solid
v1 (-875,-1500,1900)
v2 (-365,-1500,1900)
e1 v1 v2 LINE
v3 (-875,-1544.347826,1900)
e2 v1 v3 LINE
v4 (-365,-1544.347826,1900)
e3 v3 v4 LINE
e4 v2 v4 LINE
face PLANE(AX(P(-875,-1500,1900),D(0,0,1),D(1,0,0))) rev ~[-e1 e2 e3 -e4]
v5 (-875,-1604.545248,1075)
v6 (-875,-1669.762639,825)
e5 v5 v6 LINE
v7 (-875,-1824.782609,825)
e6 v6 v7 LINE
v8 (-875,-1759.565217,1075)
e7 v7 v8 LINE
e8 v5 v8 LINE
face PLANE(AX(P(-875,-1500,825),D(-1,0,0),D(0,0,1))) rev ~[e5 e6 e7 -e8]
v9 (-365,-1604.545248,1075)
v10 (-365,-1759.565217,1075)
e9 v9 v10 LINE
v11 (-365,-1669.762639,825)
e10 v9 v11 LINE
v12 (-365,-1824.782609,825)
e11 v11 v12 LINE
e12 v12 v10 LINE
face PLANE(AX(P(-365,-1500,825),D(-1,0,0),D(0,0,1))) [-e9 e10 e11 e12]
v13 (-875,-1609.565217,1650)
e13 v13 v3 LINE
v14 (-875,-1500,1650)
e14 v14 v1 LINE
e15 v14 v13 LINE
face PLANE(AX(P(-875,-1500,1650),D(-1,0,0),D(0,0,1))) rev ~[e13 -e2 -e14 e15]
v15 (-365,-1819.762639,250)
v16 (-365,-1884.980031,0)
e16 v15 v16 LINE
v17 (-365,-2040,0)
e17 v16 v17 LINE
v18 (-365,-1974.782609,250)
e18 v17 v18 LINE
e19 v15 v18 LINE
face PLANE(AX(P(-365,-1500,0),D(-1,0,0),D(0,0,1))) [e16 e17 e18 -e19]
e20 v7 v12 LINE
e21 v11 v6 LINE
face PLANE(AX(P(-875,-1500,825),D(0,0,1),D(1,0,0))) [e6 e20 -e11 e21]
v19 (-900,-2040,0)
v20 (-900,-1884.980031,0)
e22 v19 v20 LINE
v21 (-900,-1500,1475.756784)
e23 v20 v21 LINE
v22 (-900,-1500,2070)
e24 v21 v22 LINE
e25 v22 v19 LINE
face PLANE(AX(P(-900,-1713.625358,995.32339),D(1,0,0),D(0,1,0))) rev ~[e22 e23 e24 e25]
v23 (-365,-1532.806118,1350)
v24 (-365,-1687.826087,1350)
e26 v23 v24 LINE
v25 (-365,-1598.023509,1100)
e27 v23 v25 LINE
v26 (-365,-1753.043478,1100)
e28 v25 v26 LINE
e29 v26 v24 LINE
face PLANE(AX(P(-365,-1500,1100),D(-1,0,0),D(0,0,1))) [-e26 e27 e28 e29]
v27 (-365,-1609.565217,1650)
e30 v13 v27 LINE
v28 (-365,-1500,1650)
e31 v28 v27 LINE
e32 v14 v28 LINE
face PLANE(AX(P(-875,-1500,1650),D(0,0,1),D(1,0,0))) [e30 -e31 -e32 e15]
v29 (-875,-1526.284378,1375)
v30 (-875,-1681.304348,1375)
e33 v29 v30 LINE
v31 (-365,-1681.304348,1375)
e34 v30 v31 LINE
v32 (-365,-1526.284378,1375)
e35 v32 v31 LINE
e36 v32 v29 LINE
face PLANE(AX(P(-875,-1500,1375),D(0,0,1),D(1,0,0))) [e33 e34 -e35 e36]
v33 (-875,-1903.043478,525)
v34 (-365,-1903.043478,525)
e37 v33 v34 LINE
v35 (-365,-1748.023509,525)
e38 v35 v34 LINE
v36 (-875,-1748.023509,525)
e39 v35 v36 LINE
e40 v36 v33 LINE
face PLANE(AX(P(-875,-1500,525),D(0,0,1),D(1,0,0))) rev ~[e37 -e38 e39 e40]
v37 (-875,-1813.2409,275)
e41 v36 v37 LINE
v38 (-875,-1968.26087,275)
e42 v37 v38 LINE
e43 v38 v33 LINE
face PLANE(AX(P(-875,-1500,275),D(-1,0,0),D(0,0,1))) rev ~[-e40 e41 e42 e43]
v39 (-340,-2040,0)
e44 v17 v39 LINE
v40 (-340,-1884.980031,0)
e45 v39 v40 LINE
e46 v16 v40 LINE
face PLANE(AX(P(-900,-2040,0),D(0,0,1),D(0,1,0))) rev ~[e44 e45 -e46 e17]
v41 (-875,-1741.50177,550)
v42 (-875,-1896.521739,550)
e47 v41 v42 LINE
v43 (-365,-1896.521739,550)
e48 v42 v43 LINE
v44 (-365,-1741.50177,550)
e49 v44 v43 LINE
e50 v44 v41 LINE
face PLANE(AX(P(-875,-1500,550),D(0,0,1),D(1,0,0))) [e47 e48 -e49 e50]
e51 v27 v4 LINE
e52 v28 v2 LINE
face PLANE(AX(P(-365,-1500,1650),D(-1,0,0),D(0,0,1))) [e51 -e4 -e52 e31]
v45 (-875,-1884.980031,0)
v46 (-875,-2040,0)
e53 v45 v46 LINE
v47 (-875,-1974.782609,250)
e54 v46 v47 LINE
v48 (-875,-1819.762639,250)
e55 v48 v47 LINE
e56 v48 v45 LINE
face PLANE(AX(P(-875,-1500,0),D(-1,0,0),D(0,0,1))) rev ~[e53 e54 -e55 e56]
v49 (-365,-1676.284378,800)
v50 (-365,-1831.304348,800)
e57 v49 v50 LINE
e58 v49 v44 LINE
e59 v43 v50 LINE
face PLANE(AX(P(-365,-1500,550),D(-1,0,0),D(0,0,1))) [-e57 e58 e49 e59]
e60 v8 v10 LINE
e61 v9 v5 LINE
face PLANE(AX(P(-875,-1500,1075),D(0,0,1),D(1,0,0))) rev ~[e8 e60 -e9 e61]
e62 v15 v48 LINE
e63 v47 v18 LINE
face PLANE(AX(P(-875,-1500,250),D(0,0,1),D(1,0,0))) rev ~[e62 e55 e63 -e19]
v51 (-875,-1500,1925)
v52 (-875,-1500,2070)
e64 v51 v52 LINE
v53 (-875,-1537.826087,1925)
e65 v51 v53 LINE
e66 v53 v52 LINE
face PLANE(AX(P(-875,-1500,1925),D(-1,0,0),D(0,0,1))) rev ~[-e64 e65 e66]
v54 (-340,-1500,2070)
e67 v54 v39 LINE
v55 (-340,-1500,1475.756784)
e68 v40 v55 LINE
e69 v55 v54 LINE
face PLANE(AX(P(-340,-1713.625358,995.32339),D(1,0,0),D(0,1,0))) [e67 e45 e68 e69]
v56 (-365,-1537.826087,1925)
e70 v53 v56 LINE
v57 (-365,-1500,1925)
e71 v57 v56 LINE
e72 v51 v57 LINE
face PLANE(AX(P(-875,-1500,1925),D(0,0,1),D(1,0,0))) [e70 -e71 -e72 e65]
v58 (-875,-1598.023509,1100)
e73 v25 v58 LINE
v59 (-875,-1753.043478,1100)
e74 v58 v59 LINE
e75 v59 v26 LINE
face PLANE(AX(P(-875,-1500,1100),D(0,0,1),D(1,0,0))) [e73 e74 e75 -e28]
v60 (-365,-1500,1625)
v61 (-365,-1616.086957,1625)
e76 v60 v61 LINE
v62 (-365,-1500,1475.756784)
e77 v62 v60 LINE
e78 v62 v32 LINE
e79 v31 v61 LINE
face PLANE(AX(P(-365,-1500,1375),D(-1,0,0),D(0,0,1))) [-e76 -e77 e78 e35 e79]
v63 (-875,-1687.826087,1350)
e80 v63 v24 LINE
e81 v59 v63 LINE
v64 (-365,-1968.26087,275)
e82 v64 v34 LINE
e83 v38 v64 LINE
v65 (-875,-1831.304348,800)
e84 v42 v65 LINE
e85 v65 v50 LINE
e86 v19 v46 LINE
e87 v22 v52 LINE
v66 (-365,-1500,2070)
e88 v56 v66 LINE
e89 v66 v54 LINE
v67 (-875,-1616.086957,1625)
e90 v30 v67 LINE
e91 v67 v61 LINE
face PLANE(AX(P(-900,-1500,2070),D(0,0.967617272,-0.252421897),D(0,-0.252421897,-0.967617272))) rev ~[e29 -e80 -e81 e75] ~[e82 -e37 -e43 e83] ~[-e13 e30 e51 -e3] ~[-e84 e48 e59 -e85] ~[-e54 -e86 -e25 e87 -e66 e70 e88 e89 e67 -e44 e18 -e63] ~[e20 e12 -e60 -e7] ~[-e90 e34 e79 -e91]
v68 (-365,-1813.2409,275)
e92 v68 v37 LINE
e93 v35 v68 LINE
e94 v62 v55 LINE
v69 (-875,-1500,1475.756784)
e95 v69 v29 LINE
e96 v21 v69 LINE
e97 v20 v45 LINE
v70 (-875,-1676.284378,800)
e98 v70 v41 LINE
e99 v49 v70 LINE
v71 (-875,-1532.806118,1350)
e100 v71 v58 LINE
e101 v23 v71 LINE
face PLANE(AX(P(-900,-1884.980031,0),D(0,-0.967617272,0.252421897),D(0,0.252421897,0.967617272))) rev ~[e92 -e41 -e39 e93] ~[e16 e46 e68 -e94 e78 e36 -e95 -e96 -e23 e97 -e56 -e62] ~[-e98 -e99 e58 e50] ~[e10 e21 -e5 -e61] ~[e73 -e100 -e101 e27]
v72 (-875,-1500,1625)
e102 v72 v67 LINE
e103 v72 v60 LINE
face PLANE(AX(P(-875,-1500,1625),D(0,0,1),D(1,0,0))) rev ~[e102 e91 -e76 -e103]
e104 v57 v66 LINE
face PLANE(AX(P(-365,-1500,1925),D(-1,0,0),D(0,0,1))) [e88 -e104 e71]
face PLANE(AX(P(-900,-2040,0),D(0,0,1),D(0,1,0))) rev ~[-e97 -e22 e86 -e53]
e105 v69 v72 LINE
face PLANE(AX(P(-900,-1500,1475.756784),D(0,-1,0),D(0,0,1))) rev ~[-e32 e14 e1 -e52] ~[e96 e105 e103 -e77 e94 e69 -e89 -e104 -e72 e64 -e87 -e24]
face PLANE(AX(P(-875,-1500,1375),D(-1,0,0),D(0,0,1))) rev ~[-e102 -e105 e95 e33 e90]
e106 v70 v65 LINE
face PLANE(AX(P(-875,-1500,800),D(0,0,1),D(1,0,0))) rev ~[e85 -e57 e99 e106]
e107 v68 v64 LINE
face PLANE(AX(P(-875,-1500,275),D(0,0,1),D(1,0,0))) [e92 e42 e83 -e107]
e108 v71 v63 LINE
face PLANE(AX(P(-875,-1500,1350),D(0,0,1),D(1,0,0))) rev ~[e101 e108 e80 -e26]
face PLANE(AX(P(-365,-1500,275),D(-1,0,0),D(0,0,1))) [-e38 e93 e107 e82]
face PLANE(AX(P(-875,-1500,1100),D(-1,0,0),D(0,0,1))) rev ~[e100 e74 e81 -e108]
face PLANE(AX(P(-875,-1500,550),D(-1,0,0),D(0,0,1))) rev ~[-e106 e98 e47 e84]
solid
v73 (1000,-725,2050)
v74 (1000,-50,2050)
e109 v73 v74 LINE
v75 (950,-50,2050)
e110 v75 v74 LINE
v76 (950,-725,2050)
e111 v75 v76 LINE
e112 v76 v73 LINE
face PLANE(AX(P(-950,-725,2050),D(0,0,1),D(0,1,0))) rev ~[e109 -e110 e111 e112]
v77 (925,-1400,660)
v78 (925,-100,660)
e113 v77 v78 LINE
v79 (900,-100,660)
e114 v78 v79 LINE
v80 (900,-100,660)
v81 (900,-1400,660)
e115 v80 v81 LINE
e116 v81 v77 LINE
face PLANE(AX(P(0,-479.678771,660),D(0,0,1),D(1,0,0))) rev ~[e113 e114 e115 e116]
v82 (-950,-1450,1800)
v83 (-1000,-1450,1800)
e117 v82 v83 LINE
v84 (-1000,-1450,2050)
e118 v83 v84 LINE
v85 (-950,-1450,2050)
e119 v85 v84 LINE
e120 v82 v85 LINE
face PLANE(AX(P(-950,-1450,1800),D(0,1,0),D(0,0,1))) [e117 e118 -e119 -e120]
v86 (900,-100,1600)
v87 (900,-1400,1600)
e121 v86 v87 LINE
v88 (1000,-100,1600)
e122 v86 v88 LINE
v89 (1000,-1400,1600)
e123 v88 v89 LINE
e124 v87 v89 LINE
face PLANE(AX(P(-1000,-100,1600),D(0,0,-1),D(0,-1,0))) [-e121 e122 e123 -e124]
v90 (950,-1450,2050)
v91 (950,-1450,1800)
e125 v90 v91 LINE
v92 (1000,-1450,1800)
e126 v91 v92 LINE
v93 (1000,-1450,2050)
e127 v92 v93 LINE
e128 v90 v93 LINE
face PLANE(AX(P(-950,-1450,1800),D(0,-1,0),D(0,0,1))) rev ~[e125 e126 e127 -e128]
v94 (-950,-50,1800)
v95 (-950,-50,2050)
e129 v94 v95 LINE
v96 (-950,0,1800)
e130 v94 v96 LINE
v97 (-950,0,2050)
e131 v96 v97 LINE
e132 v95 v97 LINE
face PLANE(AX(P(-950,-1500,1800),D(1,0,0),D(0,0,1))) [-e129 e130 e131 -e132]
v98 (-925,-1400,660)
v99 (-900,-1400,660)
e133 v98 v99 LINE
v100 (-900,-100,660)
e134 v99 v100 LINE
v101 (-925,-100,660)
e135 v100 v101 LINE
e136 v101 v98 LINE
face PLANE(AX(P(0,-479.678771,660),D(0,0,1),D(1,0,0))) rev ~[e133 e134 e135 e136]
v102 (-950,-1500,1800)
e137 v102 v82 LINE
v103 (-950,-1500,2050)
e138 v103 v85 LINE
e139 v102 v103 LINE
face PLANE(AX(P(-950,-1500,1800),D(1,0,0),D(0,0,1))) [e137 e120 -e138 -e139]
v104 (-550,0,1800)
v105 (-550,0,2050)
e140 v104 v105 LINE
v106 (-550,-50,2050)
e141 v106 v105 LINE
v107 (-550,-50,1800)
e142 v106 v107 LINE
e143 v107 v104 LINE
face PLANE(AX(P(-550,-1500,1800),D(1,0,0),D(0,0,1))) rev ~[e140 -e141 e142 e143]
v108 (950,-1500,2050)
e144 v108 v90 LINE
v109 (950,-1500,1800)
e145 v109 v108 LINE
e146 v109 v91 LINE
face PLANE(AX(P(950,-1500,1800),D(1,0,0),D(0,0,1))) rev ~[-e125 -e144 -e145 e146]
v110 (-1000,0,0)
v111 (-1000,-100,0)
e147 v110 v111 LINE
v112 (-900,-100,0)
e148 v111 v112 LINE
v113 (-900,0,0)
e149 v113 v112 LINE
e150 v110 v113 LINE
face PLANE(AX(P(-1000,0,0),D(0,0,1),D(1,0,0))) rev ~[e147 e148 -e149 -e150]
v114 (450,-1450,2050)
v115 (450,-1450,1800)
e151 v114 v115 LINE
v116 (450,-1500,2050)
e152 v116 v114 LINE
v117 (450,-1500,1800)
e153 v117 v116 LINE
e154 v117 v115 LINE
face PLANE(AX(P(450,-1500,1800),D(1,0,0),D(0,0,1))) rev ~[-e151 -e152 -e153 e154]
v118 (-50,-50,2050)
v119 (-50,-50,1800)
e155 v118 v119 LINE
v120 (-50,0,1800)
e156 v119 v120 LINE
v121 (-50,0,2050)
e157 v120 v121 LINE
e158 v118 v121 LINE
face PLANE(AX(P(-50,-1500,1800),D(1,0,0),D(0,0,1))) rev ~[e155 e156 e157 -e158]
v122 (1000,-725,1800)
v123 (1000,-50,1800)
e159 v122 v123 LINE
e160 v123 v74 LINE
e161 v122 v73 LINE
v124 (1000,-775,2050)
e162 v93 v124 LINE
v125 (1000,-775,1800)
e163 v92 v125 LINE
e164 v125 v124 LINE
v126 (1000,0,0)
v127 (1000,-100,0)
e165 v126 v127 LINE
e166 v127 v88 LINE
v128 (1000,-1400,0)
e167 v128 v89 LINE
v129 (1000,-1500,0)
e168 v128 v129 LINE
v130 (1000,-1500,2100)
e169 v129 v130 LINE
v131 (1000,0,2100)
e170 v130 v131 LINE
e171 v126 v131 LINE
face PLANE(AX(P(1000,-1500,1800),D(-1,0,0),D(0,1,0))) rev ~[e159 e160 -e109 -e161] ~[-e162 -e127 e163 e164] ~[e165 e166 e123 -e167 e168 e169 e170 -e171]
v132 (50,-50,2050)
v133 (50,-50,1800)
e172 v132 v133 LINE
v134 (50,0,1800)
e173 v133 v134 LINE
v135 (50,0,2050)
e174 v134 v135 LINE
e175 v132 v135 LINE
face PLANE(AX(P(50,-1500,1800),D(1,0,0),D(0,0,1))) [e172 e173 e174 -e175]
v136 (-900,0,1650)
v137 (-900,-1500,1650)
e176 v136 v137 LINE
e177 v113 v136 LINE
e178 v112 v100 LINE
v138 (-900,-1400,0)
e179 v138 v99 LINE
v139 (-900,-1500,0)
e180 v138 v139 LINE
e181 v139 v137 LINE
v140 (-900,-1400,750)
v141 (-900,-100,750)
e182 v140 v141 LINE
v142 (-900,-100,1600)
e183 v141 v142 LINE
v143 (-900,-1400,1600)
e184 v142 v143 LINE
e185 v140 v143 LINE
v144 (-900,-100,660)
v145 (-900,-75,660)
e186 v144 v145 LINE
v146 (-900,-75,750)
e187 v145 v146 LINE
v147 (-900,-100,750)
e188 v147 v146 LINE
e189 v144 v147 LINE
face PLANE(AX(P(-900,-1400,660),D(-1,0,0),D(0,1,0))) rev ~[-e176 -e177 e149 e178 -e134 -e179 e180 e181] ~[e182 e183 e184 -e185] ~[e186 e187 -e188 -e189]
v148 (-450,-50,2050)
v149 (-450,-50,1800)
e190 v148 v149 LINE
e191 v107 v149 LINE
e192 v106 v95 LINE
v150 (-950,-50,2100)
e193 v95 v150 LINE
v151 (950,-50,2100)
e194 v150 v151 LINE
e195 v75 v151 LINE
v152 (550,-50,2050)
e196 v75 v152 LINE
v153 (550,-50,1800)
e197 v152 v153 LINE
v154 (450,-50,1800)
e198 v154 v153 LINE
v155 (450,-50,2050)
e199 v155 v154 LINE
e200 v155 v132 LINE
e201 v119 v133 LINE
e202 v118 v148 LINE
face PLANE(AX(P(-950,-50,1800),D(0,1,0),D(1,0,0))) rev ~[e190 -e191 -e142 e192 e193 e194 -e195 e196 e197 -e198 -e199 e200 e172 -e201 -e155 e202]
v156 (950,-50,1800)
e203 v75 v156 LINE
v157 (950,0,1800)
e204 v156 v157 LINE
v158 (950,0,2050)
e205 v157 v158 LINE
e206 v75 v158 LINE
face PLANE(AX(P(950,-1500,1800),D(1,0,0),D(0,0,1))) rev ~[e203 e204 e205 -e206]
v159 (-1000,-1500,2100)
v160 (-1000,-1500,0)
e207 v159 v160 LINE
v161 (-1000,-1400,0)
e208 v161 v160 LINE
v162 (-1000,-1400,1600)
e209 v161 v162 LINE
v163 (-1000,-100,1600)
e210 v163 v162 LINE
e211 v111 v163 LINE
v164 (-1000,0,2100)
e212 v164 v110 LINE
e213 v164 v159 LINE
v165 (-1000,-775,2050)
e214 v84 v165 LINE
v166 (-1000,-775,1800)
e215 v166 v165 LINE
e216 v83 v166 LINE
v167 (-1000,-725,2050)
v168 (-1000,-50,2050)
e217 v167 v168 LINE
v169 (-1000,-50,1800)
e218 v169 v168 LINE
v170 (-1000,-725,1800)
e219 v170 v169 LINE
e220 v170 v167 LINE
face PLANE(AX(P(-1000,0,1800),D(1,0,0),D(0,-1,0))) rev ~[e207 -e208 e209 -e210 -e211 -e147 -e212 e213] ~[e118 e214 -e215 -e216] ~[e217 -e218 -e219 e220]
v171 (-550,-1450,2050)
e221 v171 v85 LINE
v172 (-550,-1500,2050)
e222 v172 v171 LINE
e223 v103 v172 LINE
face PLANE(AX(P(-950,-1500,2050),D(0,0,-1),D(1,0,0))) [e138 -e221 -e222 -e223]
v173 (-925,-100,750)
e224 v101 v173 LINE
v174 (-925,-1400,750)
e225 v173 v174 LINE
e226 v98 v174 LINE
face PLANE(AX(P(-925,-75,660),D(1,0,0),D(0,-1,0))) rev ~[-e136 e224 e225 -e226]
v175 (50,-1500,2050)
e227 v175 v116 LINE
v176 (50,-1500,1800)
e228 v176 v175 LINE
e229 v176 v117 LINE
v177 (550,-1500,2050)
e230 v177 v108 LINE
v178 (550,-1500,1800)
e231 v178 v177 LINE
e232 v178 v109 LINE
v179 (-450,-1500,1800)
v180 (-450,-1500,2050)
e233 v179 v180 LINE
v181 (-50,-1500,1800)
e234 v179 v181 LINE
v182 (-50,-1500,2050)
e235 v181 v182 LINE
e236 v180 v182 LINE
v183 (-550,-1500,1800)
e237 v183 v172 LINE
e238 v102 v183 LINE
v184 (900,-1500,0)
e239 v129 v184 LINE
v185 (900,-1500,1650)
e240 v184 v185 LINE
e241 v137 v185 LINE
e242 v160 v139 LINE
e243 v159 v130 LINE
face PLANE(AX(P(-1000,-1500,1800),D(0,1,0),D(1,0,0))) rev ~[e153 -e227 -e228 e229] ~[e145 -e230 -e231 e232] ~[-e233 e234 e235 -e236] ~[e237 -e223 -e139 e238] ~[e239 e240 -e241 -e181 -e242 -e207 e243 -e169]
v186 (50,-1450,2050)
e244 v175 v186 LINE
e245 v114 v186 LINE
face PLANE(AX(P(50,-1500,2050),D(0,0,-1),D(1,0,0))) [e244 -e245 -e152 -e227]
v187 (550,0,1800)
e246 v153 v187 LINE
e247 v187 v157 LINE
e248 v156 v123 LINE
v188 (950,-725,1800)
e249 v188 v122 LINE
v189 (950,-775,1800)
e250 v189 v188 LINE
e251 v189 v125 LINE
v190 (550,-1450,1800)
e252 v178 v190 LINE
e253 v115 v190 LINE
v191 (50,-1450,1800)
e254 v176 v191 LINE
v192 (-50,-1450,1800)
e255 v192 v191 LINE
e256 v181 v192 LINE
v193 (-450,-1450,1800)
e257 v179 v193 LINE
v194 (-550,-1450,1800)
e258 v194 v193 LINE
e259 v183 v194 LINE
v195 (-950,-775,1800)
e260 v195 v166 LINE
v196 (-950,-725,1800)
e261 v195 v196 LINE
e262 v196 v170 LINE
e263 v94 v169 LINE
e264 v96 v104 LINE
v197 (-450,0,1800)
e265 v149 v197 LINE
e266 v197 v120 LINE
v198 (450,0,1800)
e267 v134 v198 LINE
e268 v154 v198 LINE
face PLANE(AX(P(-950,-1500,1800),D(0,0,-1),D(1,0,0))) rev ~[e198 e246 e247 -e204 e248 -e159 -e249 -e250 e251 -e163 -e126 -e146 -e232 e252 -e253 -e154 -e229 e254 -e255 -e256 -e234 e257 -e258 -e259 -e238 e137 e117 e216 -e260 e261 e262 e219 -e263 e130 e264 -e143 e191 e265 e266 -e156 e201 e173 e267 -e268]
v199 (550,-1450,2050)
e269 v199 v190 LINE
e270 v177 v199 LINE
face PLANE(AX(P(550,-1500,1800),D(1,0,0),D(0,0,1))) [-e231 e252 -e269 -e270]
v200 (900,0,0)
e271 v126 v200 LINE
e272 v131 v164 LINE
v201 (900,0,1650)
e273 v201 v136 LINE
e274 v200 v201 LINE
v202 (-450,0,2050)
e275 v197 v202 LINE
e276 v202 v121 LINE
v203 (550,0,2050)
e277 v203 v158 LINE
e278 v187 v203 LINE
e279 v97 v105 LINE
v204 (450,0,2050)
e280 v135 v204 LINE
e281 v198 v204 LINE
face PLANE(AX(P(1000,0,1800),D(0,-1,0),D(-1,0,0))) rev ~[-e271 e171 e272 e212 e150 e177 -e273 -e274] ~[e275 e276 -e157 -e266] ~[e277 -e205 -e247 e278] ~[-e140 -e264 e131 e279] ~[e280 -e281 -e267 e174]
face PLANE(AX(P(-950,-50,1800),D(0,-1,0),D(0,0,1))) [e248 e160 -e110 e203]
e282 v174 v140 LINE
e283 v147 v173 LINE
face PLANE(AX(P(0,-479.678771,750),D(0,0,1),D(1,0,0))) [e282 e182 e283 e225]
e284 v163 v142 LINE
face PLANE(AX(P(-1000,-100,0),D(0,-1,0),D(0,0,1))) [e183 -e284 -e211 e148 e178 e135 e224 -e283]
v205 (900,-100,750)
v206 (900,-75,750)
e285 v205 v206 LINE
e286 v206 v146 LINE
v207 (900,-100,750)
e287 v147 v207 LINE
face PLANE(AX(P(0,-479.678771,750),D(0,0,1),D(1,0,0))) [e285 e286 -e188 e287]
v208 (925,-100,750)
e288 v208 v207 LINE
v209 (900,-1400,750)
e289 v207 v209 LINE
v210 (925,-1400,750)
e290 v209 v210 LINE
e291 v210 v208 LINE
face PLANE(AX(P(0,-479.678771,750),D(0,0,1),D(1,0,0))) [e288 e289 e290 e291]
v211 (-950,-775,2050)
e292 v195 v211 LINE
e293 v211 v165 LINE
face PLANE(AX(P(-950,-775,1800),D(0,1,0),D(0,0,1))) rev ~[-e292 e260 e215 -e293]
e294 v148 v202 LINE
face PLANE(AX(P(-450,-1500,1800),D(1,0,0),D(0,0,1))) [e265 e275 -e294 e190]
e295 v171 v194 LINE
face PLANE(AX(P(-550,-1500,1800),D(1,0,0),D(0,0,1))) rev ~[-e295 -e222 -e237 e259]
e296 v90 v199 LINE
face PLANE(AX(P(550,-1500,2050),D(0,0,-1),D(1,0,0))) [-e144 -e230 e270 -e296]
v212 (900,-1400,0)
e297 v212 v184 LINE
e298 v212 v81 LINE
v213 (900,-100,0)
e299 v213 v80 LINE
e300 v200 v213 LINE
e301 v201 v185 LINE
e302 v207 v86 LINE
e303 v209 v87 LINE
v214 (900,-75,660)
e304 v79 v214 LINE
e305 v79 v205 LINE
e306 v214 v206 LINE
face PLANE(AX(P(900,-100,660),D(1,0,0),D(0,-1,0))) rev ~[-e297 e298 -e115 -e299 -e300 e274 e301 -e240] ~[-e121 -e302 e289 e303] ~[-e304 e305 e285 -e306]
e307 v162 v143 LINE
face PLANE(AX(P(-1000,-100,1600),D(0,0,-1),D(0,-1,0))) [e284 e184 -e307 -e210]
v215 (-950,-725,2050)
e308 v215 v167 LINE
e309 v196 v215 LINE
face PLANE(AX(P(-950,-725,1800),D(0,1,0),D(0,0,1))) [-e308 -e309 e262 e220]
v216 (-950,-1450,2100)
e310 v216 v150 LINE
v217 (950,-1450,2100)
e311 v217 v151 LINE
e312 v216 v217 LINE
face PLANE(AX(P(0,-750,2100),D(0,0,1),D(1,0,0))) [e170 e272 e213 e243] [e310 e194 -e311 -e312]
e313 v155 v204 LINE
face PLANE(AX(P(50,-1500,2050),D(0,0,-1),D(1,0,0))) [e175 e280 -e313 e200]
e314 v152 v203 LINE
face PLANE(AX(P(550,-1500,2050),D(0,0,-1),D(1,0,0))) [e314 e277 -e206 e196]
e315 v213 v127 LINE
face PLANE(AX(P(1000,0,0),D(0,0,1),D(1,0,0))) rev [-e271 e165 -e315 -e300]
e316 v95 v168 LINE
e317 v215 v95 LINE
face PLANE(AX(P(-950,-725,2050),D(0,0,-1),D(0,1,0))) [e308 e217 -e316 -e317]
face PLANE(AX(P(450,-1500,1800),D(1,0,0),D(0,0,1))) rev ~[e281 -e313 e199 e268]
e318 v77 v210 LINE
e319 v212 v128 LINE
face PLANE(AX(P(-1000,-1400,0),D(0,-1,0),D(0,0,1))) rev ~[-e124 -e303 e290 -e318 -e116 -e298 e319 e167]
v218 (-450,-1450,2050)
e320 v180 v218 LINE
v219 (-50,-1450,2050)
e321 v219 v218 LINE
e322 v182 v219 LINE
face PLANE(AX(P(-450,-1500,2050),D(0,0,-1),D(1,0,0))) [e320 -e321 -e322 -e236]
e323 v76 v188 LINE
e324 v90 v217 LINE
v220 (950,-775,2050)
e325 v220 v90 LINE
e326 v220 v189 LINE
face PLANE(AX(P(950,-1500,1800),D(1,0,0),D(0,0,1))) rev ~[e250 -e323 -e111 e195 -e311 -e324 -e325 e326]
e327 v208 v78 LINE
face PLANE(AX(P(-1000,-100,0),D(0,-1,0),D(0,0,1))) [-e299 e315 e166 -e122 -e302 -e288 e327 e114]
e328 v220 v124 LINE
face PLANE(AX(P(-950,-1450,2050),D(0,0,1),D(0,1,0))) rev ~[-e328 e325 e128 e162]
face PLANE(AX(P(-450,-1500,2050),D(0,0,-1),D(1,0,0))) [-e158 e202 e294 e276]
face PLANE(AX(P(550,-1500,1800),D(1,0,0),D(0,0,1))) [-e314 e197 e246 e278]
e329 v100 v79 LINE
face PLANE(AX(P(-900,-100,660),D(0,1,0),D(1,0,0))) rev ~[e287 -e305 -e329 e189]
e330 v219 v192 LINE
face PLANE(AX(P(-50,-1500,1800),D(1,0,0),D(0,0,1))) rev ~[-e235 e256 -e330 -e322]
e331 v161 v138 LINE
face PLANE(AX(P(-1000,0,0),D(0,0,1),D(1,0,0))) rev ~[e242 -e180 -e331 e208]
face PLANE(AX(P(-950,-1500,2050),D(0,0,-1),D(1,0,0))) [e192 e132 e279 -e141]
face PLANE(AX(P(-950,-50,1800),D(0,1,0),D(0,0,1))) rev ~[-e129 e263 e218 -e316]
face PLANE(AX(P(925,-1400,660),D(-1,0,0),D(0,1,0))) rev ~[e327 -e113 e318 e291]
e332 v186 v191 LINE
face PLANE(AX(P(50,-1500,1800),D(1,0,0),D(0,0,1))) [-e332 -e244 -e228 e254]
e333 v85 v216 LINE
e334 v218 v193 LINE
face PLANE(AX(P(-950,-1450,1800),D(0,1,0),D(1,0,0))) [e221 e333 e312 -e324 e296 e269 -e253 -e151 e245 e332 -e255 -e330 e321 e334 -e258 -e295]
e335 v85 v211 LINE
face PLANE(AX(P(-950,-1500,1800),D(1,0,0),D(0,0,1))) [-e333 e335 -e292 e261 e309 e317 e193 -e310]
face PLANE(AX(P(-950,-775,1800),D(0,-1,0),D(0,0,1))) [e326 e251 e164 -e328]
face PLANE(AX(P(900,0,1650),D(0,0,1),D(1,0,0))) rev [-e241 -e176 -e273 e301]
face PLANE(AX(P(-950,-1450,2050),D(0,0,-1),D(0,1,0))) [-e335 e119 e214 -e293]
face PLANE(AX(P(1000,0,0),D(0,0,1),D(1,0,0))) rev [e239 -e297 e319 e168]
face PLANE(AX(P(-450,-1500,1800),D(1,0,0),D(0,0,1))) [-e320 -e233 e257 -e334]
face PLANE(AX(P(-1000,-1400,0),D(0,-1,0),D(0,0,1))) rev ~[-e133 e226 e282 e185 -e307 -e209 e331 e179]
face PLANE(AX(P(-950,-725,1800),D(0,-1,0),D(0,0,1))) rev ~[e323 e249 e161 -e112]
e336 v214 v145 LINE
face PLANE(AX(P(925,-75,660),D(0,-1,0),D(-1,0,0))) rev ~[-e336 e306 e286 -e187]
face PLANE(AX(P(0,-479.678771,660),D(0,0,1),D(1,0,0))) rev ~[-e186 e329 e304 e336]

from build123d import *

# Parameters (mm, degrees)
F1_DEPTH      = 1500
F3_W          = 1900
F3_H          = 1400
F4_DEPTH      = 300
F5_W          = 400
F5_H          = 250
F6_DEPTH      = 1500.001
F7_W          = 675
F7_H          = 250
F8_DEPTH      = 1950.001
F8_DEPTH_BACK = 50.001
F9_W          = 1300
F9_H          = 1600
F10_DEPTH     = 2000.001
F14_DEPTH     = 560
F15_W         = 510
F15_H         = 250
F16_DEPTH     = 540.001
F18_DEPTH     = 90


with BuildPart() as f1:
    # F0 (on Front) → F1 (new body)
    with BuildSketch(Plane.XZ):
        Polygon((-1000, 1800), (-1000, 0), (-900, 0), (-900, 1650), (0, 1650), (0, 1800), align=None)
    extrude(amount=F1_DEPTH)

    # F2: F1 across plane


with BuildPart() as f1_1:
    add(f1.part)
    add(f1.part.mirror(Plane.YZ))

    # F3 (on face) → F4 (join)
    with BuildSketch(Plane.XY.offset(1800)):
        Polygon((-1000, -1500), (1000, -1500), (1000, -1450), (1000, 0), (-1000, 0), (-1000, -50), align=None)
        with Locations((0, -750)):
            Rectangle(F3_W, F3_H, mode=Mode.SUBTRACT)
    extrude(amount=F4_DEPTH)

    # F5 (on face) → F6 (cut, through all)
    with BuildSketch(Plane.XZ.offset(1500)):
        with Locations((-750, 1925)):
            Rectangle(F5_W, F5_H)
        with Locations((-250, 1925)):
            Rectangle(F5_W, F5_H)
        with Locations((250, 1925)):
            Rectangle(F5_W, F5_H)
        with Locations((750, 1925)):
            Rectangle(F5_W, F5_H)
        with Locations((1250, 1925)):
            Rectangle(F5_W, F5_H)
    extrude(amount=-F6_DEPTH, mode=Mode.SUBTRACT)

    # F7 (on face) → F8 (cut, two sides)
    with BuildSketch(Plane.YZ.offset(-950)) as f8_sk:
        with Locations((-1112.5, 1925)):
            Rectangle(F7_W, F7_H)
        with Locations((-387.5, 1925)):
            Rectangle(F7_W, F7_H)
    extrude(amount=F8_DEPTH, mode=Mode.SUBTRACT)
    extrude(f8_sk.sketch, amount=-F8_DEPTH_BACK, mode=Mode.SUBTRACT)

    # F9 (on face) → F10 (cut, through all)
    with BuildSketch(Plane(origin=(-1000, 0, 0), x_dir=(0, -1, 0), z_dir=(-1, 0, 0))):
        with Locations((750, 800)):
            Rectangle(F9_W, F9_H)
    extrude(amount=-F10_DEPTH, mode=Mode.SUBTRACT)

    # F17 (on offset) → F18 (join)
    with BuildSketch(Plane.XY.offset(660)):
        Polygon((-925, -75), (-925, -1400), (-900, -1400), (-900, -100), (900, -100), (900, -1400), (925, -1400), (925, -75), align=None)
    extrude(amount=F18_DEPTH)


with BuildPart() as f14:
    # F13 (on offset) → F14 (new body)
    with BuildSketch(Plane.YZ.offset(-900)):
        Polygon((-1500, 1475.7567837998), (-1500, 2070), (-2040, 0), (-1884.9800305565, 0), align=None)
    extrude(amount=F14_DEPTH)

    # F15 (on face) → F16 (cut, through all)
    with BuildSketch(Plane.XZ.offset(1500)):
        with Locations((-620, 125)):
            Rectangle(F15_W, F15_H)
        with Locations((-620, 400)):
            Rectangle(F15_W, F15_H)
        with Locations((-620, 675)):
            Rectangle(F15_W, F15_H)
        with Locations((-620, 950)):
            Rectangle(F15_W, F15_H)
        with Locations((-620, 1225)):
            Rectangle(F15_W, F15_H)
        with Locations((-620, 1500)):
            Rectangle(F15_W, F15_H)
        with Locations((-620, 1775)):
            Rectangle(F15_W, F15_H)
        with Locations((-620, 2050)):
            Rectangle(F15_W, F15_H)
    extrude(amount=F16_DEPTH, mode=Mode.SUBTRACT)


solid = Compound([f1_1.part, f14.part])
